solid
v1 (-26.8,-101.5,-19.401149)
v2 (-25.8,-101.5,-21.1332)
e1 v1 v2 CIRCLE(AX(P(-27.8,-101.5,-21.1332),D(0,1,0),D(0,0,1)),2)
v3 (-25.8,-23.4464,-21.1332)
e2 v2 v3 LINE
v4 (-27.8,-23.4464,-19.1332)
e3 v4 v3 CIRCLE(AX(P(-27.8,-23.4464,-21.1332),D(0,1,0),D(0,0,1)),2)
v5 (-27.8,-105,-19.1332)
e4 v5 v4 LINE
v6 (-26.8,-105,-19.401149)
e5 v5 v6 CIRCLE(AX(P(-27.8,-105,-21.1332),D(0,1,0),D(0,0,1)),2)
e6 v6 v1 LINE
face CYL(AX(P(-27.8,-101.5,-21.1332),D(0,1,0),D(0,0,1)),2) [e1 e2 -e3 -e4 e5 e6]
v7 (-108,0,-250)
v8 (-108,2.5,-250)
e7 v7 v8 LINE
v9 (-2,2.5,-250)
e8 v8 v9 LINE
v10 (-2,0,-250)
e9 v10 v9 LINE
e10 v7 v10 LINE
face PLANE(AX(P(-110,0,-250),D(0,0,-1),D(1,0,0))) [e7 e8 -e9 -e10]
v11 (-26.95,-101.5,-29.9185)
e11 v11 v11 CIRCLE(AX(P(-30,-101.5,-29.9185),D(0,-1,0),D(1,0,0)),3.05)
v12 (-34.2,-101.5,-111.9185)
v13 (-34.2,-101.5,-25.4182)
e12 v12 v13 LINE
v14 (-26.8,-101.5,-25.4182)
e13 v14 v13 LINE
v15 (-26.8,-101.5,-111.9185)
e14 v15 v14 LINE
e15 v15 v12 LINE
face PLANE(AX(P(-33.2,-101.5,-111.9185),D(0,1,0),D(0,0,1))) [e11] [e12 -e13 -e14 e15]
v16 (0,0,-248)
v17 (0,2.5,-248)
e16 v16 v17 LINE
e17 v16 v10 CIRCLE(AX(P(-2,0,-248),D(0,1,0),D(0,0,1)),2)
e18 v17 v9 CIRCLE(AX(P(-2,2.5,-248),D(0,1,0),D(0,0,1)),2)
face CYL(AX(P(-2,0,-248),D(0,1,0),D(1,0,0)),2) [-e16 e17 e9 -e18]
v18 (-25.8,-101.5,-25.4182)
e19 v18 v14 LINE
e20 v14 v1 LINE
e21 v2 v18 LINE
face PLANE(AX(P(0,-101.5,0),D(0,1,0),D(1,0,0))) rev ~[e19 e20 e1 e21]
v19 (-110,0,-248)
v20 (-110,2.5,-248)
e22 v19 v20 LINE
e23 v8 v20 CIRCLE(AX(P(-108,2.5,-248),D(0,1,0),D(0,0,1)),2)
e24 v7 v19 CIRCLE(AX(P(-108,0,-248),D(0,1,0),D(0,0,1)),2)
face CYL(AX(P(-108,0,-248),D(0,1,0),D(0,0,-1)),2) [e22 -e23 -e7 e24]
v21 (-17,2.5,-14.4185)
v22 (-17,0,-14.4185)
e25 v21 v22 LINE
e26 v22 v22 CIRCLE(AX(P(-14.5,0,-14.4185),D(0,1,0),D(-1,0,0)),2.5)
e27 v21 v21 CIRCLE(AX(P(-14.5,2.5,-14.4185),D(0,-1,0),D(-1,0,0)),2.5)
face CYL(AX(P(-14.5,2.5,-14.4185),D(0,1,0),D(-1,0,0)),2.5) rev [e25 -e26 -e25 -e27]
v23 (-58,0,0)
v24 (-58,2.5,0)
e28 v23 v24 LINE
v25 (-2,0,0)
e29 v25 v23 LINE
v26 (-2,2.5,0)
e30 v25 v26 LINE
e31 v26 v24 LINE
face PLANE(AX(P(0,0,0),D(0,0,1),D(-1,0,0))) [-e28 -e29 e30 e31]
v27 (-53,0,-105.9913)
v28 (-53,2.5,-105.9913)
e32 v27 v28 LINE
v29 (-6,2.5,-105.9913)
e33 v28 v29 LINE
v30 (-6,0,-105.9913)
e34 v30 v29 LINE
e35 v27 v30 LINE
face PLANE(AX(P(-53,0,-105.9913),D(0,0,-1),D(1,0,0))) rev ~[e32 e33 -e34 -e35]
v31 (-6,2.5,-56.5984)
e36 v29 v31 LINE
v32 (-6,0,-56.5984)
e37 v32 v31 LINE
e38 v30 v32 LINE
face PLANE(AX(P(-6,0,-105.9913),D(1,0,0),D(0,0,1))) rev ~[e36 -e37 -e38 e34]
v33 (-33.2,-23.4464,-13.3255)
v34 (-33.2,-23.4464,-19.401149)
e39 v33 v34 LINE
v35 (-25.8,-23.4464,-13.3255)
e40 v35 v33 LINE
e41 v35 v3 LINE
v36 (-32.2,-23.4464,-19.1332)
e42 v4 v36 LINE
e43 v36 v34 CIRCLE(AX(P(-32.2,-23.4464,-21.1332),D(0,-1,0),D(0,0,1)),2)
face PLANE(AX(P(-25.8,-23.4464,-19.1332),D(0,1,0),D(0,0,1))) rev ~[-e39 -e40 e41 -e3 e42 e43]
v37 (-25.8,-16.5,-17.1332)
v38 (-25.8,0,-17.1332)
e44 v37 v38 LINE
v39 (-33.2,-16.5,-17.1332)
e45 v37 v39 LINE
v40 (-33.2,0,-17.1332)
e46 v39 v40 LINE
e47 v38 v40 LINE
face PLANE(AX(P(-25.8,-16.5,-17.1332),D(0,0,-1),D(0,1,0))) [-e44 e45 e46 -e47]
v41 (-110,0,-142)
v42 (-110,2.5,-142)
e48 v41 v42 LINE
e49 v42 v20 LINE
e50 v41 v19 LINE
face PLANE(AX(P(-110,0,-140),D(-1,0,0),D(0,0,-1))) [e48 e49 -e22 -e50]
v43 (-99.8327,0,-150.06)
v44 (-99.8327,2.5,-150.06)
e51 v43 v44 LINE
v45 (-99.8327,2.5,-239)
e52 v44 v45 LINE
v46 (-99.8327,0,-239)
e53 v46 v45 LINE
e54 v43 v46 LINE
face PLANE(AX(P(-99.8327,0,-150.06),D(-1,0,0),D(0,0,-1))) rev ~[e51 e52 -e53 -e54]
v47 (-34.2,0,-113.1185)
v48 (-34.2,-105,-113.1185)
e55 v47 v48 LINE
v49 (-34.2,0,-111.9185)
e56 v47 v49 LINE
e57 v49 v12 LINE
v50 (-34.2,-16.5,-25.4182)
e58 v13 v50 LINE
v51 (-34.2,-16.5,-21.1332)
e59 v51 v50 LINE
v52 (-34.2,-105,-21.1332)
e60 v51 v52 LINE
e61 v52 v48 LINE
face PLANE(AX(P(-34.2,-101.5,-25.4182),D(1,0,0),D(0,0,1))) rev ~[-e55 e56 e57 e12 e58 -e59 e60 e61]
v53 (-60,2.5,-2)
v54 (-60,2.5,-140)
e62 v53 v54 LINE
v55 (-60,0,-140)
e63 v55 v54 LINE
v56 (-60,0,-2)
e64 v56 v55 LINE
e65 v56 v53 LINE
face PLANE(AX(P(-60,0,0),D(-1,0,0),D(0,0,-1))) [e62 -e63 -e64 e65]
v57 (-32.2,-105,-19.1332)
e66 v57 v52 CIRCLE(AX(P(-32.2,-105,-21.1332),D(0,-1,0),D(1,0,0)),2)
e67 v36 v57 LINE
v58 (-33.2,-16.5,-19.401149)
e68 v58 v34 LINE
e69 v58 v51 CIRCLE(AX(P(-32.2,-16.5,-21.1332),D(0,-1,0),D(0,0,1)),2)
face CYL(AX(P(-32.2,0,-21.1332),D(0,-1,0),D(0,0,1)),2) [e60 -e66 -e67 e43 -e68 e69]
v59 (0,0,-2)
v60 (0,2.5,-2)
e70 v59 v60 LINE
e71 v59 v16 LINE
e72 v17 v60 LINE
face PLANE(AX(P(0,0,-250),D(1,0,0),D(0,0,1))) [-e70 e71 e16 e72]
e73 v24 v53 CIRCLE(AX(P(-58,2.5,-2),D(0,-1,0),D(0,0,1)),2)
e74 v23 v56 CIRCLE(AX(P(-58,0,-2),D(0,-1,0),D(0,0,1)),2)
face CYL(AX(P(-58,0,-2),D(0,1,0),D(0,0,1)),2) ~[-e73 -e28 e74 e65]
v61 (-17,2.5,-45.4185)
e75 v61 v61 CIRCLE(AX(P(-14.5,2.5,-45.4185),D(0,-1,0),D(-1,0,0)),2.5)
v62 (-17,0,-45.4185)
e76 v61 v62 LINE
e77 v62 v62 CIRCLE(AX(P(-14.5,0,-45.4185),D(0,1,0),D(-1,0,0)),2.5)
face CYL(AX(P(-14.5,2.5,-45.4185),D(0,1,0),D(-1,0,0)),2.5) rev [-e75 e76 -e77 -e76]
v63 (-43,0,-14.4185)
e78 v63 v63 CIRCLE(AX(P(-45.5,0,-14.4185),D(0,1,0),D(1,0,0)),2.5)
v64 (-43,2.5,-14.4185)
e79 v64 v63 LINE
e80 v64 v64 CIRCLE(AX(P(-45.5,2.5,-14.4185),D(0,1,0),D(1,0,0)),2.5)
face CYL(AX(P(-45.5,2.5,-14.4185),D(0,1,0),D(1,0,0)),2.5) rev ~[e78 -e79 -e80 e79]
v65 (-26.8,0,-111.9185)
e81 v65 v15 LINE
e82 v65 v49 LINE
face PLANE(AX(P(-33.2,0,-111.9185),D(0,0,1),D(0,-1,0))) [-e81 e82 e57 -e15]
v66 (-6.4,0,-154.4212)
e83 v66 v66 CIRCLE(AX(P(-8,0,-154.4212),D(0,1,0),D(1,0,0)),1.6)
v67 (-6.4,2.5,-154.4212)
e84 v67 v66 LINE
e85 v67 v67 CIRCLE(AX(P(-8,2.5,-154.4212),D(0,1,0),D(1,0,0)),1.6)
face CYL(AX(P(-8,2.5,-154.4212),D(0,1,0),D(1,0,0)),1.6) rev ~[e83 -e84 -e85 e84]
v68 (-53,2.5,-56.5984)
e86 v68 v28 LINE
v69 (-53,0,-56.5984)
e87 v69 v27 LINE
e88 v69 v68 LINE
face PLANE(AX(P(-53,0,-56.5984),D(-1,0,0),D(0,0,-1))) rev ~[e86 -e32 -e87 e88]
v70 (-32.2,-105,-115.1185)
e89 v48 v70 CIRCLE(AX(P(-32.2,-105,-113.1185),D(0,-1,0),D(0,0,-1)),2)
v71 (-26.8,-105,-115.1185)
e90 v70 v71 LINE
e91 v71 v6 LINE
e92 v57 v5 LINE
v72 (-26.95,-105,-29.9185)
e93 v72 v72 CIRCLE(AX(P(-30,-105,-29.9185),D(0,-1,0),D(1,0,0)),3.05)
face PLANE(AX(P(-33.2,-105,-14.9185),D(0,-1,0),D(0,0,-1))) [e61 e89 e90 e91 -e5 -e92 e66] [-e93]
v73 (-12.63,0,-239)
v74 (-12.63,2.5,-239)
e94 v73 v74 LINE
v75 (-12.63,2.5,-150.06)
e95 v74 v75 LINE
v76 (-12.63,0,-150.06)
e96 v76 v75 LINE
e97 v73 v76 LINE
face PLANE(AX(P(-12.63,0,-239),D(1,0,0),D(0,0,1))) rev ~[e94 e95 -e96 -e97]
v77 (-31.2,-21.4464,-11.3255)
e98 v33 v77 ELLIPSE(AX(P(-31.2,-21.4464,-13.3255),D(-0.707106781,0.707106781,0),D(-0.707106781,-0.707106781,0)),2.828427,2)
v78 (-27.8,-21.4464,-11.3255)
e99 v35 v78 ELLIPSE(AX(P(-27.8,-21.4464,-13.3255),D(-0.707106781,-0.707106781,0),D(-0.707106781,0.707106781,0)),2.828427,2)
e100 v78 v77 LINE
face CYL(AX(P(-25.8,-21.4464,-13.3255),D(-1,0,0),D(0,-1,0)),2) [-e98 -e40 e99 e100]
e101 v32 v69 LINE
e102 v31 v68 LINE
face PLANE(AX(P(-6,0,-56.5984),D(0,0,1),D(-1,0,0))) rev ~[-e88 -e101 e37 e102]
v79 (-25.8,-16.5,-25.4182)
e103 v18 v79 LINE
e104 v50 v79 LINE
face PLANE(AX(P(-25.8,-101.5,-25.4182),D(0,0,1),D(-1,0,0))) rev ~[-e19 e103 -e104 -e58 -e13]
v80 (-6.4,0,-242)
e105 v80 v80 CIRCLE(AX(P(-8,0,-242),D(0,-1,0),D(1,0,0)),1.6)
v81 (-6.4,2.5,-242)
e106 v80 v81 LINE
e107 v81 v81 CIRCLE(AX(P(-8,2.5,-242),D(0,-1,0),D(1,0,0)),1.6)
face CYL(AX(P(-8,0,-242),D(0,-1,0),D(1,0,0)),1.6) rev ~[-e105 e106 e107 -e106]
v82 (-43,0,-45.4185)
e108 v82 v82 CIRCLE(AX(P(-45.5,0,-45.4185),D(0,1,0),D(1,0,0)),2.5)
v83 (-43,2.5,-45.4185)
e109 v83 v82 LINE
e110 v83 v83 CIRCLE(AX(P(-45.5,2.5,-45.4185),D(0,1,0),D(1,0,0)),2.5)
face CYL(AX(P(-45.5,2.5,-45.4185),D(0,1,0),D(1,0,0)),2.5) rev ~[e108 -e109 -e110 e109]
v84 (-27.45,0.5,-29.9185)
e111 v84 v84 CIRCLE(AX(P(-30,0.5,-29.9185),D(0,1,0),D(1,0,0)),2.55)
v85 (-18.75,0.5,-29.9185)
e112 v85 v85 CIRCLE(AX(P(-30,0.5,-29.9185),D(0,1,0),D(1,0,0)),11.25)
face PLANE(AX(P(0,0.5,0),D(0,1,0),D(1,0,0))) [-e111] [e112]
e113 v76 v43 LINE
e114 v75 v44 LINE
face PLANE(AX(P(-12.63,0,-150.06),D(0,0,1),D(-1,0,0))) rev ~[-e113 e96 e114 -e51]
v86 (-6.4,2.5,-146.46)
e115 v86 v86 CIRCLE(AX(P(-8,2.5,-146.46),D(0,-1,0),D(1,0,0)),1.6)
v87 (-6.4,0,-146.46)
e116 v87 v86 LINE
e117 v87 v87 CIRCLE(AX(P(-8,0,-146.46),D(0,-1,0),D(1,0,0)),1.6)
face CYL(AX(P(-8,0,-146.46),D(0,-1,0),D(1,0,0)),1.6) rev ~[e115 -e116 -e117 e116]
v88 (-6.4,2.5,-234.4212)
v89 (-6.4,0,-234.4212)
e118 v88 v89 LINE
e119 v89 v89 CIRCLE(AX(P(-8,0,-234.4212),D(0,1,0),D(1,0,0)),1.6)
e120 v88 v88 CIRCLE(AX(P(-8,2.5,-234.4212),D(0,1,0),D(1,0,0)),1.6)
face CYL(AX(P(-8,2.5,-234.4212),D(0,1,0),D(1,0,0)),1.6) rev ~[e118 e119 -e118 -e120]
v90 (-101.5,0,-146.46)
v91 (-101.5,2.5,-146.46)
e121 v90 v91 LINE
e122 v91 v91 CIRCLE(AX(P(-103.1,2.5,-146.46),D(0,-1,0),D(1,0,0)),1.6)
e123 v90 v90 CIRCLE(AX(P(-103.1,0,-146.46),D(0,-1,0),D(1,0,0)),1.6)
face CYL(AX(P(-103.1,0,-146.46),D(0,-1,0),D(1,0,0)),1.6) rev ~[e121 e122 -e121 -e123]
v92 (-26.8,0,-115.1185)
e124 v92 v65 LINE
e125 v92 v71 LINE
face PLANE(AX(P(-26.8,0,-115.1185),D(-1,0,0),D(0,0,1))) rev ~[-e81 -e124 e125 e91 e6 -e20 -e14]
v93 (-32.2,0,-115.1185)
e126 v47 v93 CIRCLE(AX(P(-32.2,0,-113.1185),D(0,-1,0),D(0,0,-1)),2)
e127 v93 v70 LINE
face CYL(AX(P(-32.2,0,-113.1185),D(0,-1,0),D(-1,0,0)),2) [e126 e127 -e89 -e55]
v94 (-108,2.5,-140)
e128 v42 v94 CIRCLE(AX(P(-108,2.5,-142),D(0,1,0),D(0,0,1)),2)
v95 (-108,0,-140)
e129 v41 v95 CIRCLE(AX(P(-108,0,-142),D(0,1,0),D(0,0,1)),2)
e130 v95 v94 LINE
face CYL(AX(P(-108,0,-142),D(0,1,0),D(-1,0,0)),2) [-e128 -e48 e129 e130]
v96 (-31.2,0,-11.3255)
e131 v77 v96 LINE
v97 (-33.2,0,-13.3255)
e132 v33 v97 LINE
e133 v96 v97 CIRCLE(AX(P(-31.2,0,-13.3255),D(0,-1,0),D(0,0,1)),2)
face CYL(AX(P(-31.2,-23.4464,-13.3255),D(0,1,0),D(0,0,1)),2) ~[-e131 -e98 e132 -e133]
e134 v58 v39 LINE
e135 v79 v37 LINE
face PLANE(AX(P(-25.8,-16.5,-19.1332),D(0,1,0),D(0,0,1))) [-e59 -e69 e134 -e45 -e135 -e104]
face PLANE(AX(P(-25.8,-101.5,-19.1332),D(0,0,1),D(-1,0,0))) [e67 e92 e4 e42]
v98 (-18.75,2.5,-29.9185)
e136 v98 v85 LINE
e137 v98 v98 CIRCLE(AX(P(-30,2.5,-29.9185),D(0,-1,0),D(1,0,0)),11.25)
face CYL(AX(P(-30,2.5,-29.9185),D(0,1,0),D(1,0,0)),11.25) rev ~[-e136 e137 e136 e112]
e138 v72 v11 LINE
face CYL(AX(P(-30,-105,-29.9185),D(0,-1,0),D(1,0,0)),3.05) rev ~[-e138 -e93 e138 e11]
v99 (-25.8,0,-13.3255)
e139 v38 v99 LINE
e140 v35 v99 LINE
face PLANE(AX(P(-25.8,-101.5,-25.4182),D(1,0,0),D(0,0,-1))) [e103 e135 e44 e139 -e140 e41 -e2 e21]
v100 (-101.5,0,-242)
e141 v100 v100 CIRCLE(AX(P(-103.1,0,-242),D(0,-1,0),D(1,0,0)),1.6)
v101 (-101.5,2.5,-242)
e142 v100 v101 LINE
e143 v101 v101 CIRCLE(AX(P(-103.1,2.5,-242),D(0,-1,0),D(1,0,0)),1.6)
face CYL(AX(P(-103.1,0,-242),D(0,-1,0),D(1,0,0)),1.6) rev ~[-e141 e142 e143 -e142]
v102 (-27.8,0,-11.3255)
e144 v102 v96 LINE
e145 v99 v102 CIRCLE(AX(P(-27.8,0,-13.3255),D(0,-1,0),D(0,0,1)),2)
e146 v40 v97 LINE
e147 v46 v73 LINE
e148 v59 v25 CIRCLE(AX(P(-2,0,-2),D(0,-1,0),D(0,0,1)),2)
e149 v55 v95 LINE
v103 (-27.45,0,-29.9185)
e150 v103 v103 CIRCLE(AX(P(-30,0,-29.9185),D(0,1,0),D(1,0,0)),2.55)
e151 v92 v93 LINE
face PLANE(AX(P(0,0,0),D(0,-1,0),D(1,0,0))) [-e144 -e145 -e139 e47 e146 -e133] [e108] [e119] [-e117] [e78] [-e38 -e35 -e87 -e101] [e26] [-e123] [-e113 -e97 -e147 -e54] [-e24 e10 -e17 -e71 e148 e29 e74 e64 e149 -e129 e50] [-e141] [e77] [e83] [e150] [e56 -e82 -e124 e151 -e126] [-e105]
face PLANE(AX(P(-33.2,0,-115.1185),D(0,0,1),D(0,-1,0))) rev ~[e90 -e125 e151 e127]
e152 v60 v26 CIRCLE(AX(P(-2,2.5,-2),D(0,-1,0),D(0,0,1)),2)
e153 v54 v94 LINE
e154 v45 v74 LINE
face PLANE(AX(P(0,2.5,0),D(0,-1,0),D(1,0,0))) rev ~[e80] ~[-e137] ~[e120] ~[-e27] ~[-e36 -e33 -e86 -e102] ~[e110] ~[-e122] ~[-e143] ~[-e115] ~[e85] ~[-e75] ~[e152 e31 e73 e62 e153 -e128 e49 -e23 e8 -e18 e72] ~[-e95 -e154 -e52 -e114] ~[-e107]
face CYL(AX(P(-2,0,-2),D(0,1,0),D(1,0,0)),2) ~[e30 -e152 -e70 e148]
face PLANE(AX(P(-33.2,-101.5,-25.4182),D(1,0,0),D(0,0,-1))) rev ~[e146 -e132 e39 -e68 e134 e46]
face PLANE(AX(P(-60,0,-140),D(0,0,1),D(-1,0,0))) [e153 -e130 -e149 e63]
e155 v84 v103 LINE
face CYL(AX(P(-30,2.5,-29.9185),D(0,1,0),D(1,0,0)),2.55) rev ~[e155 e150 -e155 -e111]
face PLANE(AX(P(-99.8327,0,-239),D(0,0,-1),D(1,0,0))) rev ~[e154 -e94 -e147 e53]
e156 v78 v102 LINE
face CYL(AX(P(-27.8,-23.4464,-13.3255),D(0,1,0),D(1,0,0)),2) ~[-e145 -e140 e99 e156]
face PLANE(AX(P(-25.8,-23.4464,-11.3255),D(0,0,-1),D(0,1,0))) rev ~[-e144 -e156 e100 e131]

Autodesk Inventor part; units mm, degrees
ref_plane "YZ Plane" through (0, 0, 0) normal (1, 0, 0) x (0, 1, 0)
ref_plane "XZ Plane" through (0, 0, 0) normal (0, 1, 0) x (-1, 0, 0)
ref_plane "XY Plane" through (0, 0, 0) normal (0, 0, 1) x (1, 0, 0)
sketch "草图1" plane through (0, 0, 0) normal (0, 1, 0) x (-1, 0, 0)
  line L0 (0, 0) -> (60, 0)
  line L1 (60, 0) -> (60, -140)
  line L2 (60, -140) -> (0, -140)
  line L3 (0, -140) -> (0, 0)
  dimension "d0" = 60
  dimension "d1" = 140
extrude "拉伸1" add sketch "草图1" along normal blind 2.5
sketch "草图2" plane through (0, 2.5, 0) normal (0, 1, 0) x (1, 0, 0)
  line L0 (0, 140) -> (-60, 140) projected
  line L1 (-60, 140) -> (-60, 0) projected
  line L2 (-60, 0) -> (0, 0) projected
  line L3 (0, 0) -> (0, 140) projected
  line L4 (-60, 0) -> (0, 0) projected
  line L5 (-30, 0) -> (-30, 146.6003)
  line L6 (-30, 8.9185) -> (-51, 8.9185)
  line L7 (-51, 8.9185) -> (-51, 50.9185)
  line L8 (-51, 50.9185) -> (-30, 50.9185)
  line L9 (-30, 50.9185) -> (-30, 8.9185)
  line L10 (-30, 8.9185) -> (-9, 8.9185)
  line L11 (-9, 8.9185) -> (-9, 50.9185)
  line L12 (-9, 50.9185) -> (-30, 50.9185)
  circle A0 centre (-45.5, 14.4185) radius 2.9433
  line L13 (-51, 29.9185) -> (-35.5931, 29.9185)
  circle A1 centre (-45.5, 45.4185) radius 2.9433
  circle A2 centre (-14.5, 14.4185) radius 2.9433
  circle A3 centre (-14.5, 45.4185) radius 2.9433
  circle A4 centre (-30, 29.9185) radius 2.55
  circle A5 centre (-30, 29.9185) radius 11.25
  dimension "d4" = 21
  dimension "d5" = 42
  dimension "d6" = 31
  dimension "d7" = 31
  dimension "d12" = 5.1
  dimension "d15" = 22.5
extrude "拉伸4" cut sketch "草图2" along normal mid plane 10 contours A4 L5 | L5 A4
extrude "拉伸5" cut sketch "草图2" against normal blind 10 contours A5 L5 A4 | L5 A4 A5 | A4 L5 | L5 A4
extrude "拉伸6" cut sketch "草图2" against normal blind 10 contours A5 L5 A4 | L5 A4 A5 | A4 L5 | L5 A4
sketch "草图6" plane through (0, 0, 0) normal (0, -1, 0) x (1, 0, 0)
  line L0 (-9, -8.9185) -> (-51, -8.9185) projected
  circle A0 centre (-30, -29.9185) radius 2.55 projected
  line L1 (-30, -29.9185) -> (-26.8, -29.9185)
  line L2 (-26.8, -29.9185) -> (-26.8, -111.9185)
  line L3 (-30, -29.9185) -> (-30, -39.9264)
  line L4 (-30, -29.9185) -> (-33.2, -29.9185)
  line L5 (-33.2, -29.9185) -> (-33.2, -111.9185)
  line L6 (-26.8, -111.9185) -> (-31.6, -111.9185)
  line L7 (-31.6, -111.9185) -> (-33.2, -111.9185)
  line L8 (-26.8, -111.9185) -> (-33.2, -111.9185)
  line L9 (-33.2, -111.9185) -> (-33.2, -115.1185)
  line L10 (-33.2, -115.1185) -> (-26.8, -115.1185)
  line L11 (-26.8, -115.1185) -> (-26.8, -111.9185)
  point P0 (0, 0)
  dimension "d20" = 3.2
  dimension "d21" = 82
  dimension "d22" = 3.2
extrude "拉伸7" add sketch "草图6" along normal blind 105 contours L11 L10 L9 L7 L6
sketch "草图7" plane through (-33.2, 0, -111.9185) normal (0, 0, 1) x (1, 0, 0)
  line L0 (0, 0) -> (6.4, 0) projected
  line L1 (0, 0) -> (0, -105) projected
  line L2 (6.4, -105) -> (0, -105) projected
  line L3 (6.4, 0) -> (6.4, -105) projected
  line L4 (6.4, 0) -> (6.4, -105) projected
  line L5 (0, 0) -> (0, -105) projected
  line L6 (6.4, -105) -> (0, -105)
  line L7 (0, -105) -> (0, -101.5)
  line L8 (0, -101.5) -> (6.4, -101.5)
  line L9 (6.4, -101.5) -> (6.4, -105)
  point P0 (33.2, 0)
  dimension "d25" = 3.5
sketch "草图8" plane through (0, -105, 0) normal (0, -1, 0) x (1, 0, 0)
  line L0 (-26.8, -111.9185) -> (-26.8, -115.1185) projected
  line L1 (-26.8, -115.1185) -> (-33.2, -115.1185) projected
  line L2 (-33.2, -115.1185) -> (-33.2, -111.9185) projected
  line L3 (-33.2, -111.9185) -> (-26.8, -111.9185) projected
  circle A0 centre (-30, -29.9185) radius 11.25 projected
  line L4 (0, -140) -> (-60, -140) projected
  line L5 (0, 0) -> (0, -140) projected
  line L6 (-60, 0) -> (0, 0) projected
  line L7 (-60, -140) -> (-60, 0) projected
  line L8 (-26.8, -111.9185) -> (-26.8, -29.9185)
  line L9 (-26.8, -29.9185) -> (-33.2, -29.9185)
  line L10 (-33.2, -29.9185) -> (-33.2, -111.9185)
  line L11 (-33.2, -111.9185) -> (-26.8, -111.9185)
  line L12 (-26.8, -111.9185) -> (-26.8, -29.9185)
  circle A1 centre (-30, -29.9185) radius 3.2
  line L13 (-26.8, -29.9185) -> (-26.8, -14.9185)
  line L14 (-26.8, -14.9185) -> (-33.2, -14.9185)
  line L15 (-33.2, -14.9185) -> (-33.2, -29.9185)
  circle A2 centre (-30, -29.9185) radius 2.55 projected
  line L16 (-26.8, -14.9185) -> (-26.8, -25.4185)
  line L17 (-26.8, -25.4185) -> (-33.2, -25.4185)
  dimension "d26" = 15
  dimension "d40" = 10.5
extrude "拉伸8" add sketch "草图8" against normal blind 3.5 contours L3 L10 A0 L8 | A0 L10 A1 L8 | A1 L9 A2 | L9 A2 A1 | A1 L15 L17 L13 | L15 L14 L13 A0 | A0 L13 L17 L15
sketch "草图10" plane through (0, -105, 0) normal (0, -1, 0) x (1, 0, 0)
  line L0 (-26.8, -111.9185) -> (-26.8, -115.1185) projected
  line L1 (-26.8, -115.1185) -> (-33.2, -115.1185) projected
  line L2 (-33.2, -115.1185) -> (-33.2, -111.9185) projected
  line L3 (-33.2, -111.9185) -> (-26.8, -111.9185) projected
  circle A0 centre (-30, -29.9185) radius 11.25 projected
  line L4 (0, -140) -> (-60, -140) projected
  line L5 (0, 0) -> (0, -140) projected
  line L6 (-60, 0) -> (0, 0) projected
  line L7 (-60, -140) -> (-60, 0) projected
  circle A1 centre (-30, -29.9185) radius 2.55 projected
  line L8 (-33.2, -14.9185) -> (-33.2, -115.1185) projected
  line L9 (-33.2, -115.1185) -> (-26.8, -115.1185) projected
  line L10 (-26.8, -115.1185) -> (-26.8, -14.9185) projected
  line L11 (-26.8, -14.9185) -> (-33.2, -14.9185) projected
  circle A2 centre (-30, -29.9185) radius 3.05
  point P0 (-33.2, -19.1332)
  point P1 (-26.8, -19.1332)
  dimension "d31" = 6.1
extrude "拉伸9" add sketch "草图10" against normal up to surface (105 mm away) contours A0 L8 L11 L10
extrude "拉伸10" cut sketch "草图10" against normal up to surface (3.5 mm away) contours A2
sketch "草图11" plane through (-33.2, -105, -115.1185) normal (-1, 0, 0) x (0, 0, 1)
  line L0 (3.2, 3.5) -> (95.9853, 3.5) projected
  line L1 (3.2, 105) -> (3.2, 3.5) projected
  line L2 (0, 105) -> (3.2, 105) projected
  line L3 (0, 105) -> (0, 0) projected
  line L4 (100.2, 0) -> (0, 0) projected
  line L5 (100.2, 0) -> (100.2, 105) projected
  line L6 (95.9853, 105) -> (100.2, 105) projected
  line L7 (95.9853, 3.5) -> (95.9853, 105) projected
  point P0 (115.1185, 105)
extrude "拉伸11" add sketch "草图11" along normal blind 1
sketch "草图12" plane through (0, 0, 0) normal (0, -1, 0) x (1, 0, 0)
  point P0 (0, 0)
extrude "拉伸12" add sketch "草图2" against normal up to surface (2.5 mm away) contours A5 L5 A4 | L5 A4 A5
sketch "草图13" plane through (-30, 2.5, -29.9185) normal (0, 1, 0) x (1, 0, 0)
  point P0 (30, -29.9185)
extrude "拉伸13" cut sketch "草图2" against normal blind 2 contours A5 L5 A4 | L5 A4 A5
sketch "草图14" plane through (0, -105, 0) normal (0, -1, 0) x (1, 0, 0)
  circle A0 centre (-30, -29.9185) radius 3.05 projected
  line L0 (-26.8, -115.1185) -> (-34.2, -115.1185) projected
  line L1 (-26.8, -14.9185) -> (-34.2, -14.9185) projected
  line L2 (-34.2, -115.1185) -> (-34.2, -14.9185) projected
  line L3 (-34.2, -115.1185) -> (-34.2, -14.9185) projected
  line L4 (-34.2, -19.1332) -> (-34.2, -14.9185) projected
  line L5 (-34.2, -19.1332) -> (-34.2, -111.9185) projected
  line L6 (-34.2, -115.1185) -> (-34.2, -111.9185) projected
  line L7 (-33.2, -19.1332) -> (-34.2, -19.1332) projected
  line L8 (-34.2, -19.1332) -> (-25.8, -19.1332)
  line L9 (-25.8, -115.1185) -> (-25.8, -14.9185) projected
  line L10 (-26.8, -115.1185) -> (-26.8, -14.9185) projected
  point P0 (0, 0)
  point P1 (-26.8, -19.1332)
extrude "拉伸14" cut sketch "草图14" against normal up to surface (105 mm away) contours L8 L7 L2 L1 L10
sketch "草图15" plane through (0, -101.5, 0) normal (0, 1, 0) x (1, 0, 0)
  line L0 (-34.2, 111.9185) -> (-26.8, 111.9185) projected
  line L1 (-34.2, 19.1332) -> (-34.2, 111.9185) projected
  circle A0 centre (-30, 29.9185) radius 3.05 projected
  line L2 (-26.8, 25.4185) -> (-33.2, 25.4185) projected
  line L3 (-26.8, 14.9185) -> (-26.8, 25.4185) projected
  line L4 (-34.2, 19.1332) -> (-26.8, 19.1332) projected
  line L5 (-26.8, 19.1332) -> (-26.8, 111.9185) projected
  point P0 (0, 0)
sketch "草图16" plane through (0, -105, 0) normal (0, -1, 0) x (1, 0, 0)
  line L0 (-26.8, -25.4185) -> (-33.2, -25.4185) projected
  line L1 (-34.2, -115.1185) -> (-34.2, -19.1332) projected
  line L2 (-26.8, -115.1185) -> (-34.2, -115.1185) projected
  circle A0 centre (-30, -29.9185) radius 3.05 projected
  line L3 (-26.8, -19.1332) -> (-34.2, -19.1332) projected
  line L4 (-26.8, -115.1185) -> (-26.8, -19.1332) projected
  point P0 (0, 0)
sketch "草图17" plane through (0, -101.5, 0) normal (0, 1, 0) x (1, 0, 0)
  line L0 (-25.8, 19.1332) -> (-34.2, 19.1332) projected
  line L1 (-25.8, 19.1332) -> (-25.8, 111.9185) projected
  line L2 (-34.2, 19.1332) -> (-25.8, 19.1332)
  line L3 (-25.8, 19.1332) -> (-25.8, 25.4182)
  line L4 (-25.8, 25.4182) -> (-34.2, 25.4182)
  line L5 (-34.2, 25.4182) -> (-34.2, 19.1332)
  point P0 (0, 0)
  dimension "d43" = 6.285
extrude "拉伸15" add sketch "草图17" along normal up to surface (101.5 mm away)
fillet "圆角1" radius 2 3 edges at (-34.2, -52.5, -19.1332) (-25.8, -50.75, -19.1332) (-34.2, -52.5, -115.1185)
sketch "草图18" plane through (0, 2.5, 0) normal (0, 1, 0) x (1, 0, 0)
  circle A0 centre (-30, 29.9185) radius 11.25 projected
  line L0 (0, 140) -> (-60, 140) projected
  line L1 (-60, 140) -> (-60, 0) projected
  line L2 (-60, 0) -> (0, 0) projected
  line L3 (0, 0) -> (0, 140) projected
  circle A1 centre (-45.5, 14.4185) radius 2.5
  line L4 (-30, 29.9185) -> (-30, 12.6275)
  circle A2 centre (-45.5, 45.4185) radius 2.5
  point P0 (-14.5, 14.4185)
  dimension "d47" = 5
  dimension "d48" = 5
extrude "拉伸16" cut sketch "草图18" against normal blind 10 contours A1 | A2
ref_plane "工作平面2" through (-30, 0, -140) normal (-1, 0, 0) x (0, 0, 1)
mirror "镜像2" about plane through (-30, 0, -140) normal (-1, 0, 0) of "拉伸16"
sketch "草图19" plane through (0, 0, 0) normal (0, -1, 0) x (1, 0, 0)
  line L0 (0, -140) -> (-60, -140) projected
  line L1 (0, -140) -> (-110, -140)
  line L2 (-110, -140) -> (-110, -250)
  line L3 (-110, -250) -> (0, -250)
  line L4 (0, -250) -> (0, -140)
  circle A0 centre (-8, -146.46) radius 1.6
  circle A1 centre (-8, -242) radius 1.6
  circle A2 centre (-103.1, -146.46) radius 1.6
  circle A3 centre (-103.1, -242) radius 1.6
  point P0 (0, 0)
  dimension "d51" = 110
  dimension "d52" = 110
  dimension "d53" = 3.2
  dimension "d54" = 3.2
  dimension "d55" = 95.54
  dimension "d56" = 8
  dimension "d57" = 3.2
  dimension "d58" = 95.1
  dimension "d59" = 3.2
  dimension "d74" = 8
  dimension "d75" = 8
  dimension "d76" = 95.1
extrude "拉伸17" add sketch "草图19" against normal up to surface (2.5 mm away)
sketch "草图20" plane through (-25.8, -101.5, -25.4182) normal (1, 0, 0) x (0, 0, -1)
  line L0 (-4.285, 0) -> (-4.285, 101.5) projected
  line L1 (-4.285, 0) -> (0, 0) projected
  line L2 (0, 0) -> (0, 101.5) projected
  line L3 (-4.285, 101.5) -> (0, 101.5) projected
  line L4 (-4.285, 0) -> (-4.285, 101.5) projected
  line L5 (-4.285, 101.5) -> (-4.285, 85)
  line L6 (-4.285, 85) -> (0, 85)
  line L7 (0, 0) -> (0, 101.5) projected
  line L8 (-4.285, 85) -> (-8.285, 85)
  line L9 (-8.285, 85) -> (-8.285, 101.5)
  line L10 (114.5818, 101.5) -> (-25.4182, 101.5) projected
  line L11 (-6.285, 78.0536) -> (-14.0927, 78.0536)
  line L12 (-14.0927, 78.0536) -> (-14.0927, 101.5)
  line L13 (-6.285, 101.5) -> (-6.285, -3.5) projected
  point P0 (-6.285, 85)
  dimension "d62" = 16.5
  dimension "d63" = 4
extrude "拉伸18" cut sketch "草图20" along normal mid plane 20.75 contours L8 L13 L10 L0 | L0 L3 L2 L6 | L8 L9 L10 L13
extrude "拉伸19" add sketch "草图20" against normal blind 7.4 contours L13 L11 L12 L10 L9 L8
sketch "草图21" plane through (-25.8, -23.4464, -19.1332) normal (0, 0, -1) x (-1, 0, 0)
  line L0 (2, 6.9464) -> (2, 0) projected
  line L1 (0, 6.9464) -> (2, 6.9464) projected
  line L2 (0, 0) -> (0, 6.9464) projected
  line L3 (0, 0) -> (2, 0) projected
  line L4 (6.4, 0) -> (6.4, 6.9464) projected
  line L5 (6.4, 0) -> (7.4, 0) projected
  line L6 (7.4, 6.9464) -> (7.4, 0) projected
  line L7 (6.4, 6.9464) -> (7.4, 6.9464) projected
  point P0 (-25.8, 23.4464)
extrude "拉伸20" add sketch "草图21" along normal blind 2.5
fillet "圆角2" radius 2 3 edges at (-29.5, -23.4464, -11.3254) (-25.8, -11.7232, -11.3254) (-33.2, -11.7232, -11.3254)
sketch "草图22" plane through (0, -105, 0) normal (0, -1, 0) x (1, 0, 0)
  circle A0 centre (-30, -29.9185) radius 3.05 projected
  circle A1 centre (-30, -29.9185) radius 3.2 projected
  point P0 (0, 0)
sketch "草图23" plane through (0, -105, 0) normal (0, -1, 0) x (1, 0, 0)
  circle A0 centre (-30, -29.9185) radius 2.55 projected
  point P0 (0, 0)
sketch "草图24" plane through (0, -105, 0) normal (0, -1, 0) x (1, 0, 0)
  point P0 (0, 0)
sketch "草图25" plane through (0, -105, 0) normal (0, -1, 0) x (1, 0, 0)
  circle A0 centre (-30, -29.9185) radius 2.75
  point P0 (0, 0)
  dimension "d71" = 5.5
extrude "拉伸21" cut sketch "草图25" against normal blind 2.5
sketch "草图26" plane through (0, 0, 0) normal (1, 0, 0) x (0, 0, -1)
  point P0 (0, 0)
sketch "草图27" plane through (0, 2.5, 0) normal (0, 1, 0) x (1, 0, 0)
  circle A0 centre (-8, 146.46) radius 1.6 projected
  circle A1 centre (-8, 242) radius 1.6 projected
  circle A2 centre (-103.1, 146.46) radius 1.6 projected
  circle A3 centre (-103.1, 242) radius 1.6 projected
  circle A4 centre (-14.5, 14.4185) radius 2.5 projected
  circle A5 centre (-14.5, 45.4185) radius 2.5 projected
  circle A6 centre (-45.5, 14.4185) radius 2.5 projected
  circle A7 centre (-45.5, 45.4185) radius 2.5 projected
  circle A8 centre (-30, 29.9185) radius 11.25 projected
  line L0 (-60, 140) -> (-60, 0) projected
  line L1 (-60, 0) -> (0, 0) projected
  line L2 (0, 0) -> (0, 250) projected
  line L3 (-110, 250) -> (0, 250) projected
  line L4 (-110, 140) -> (-110, 250) projected
  line L5 (-60, 140) -> (-110, 140) projected
  circle A9 centre (-8, 154.4212) radius 1.6
  circle A10 centre (-8, 234.4212) radius 1.6
  dimension "d77" = 3.2
  dimension "d78" = 3.2
  dimension "d79" = 80
extrude "拉伸22" cut sketch "草图27" against normal up to surface (2.5 mm away) contours A9 | A10
sketch "草图28" plane through (0, 0, 0) normal (0, -1, 0) x (1, 0, 0)
  line L0 (-12.63, -150.06) -> (-99.8327, -150.06)
  line L1 (-99.8327, -150.06) -> (-99.8327, -239)
  line L2 (-99.8327, -239) -> (-12.63, -239)
  line L3 (-12.63, -239) -> (-12.63, -150.06)
  circle A0 centre (-8, -146.46) radius 1.6 projected
  circle A1 centre (-8, -242) radius 1.6 projected
  point P0 (0, 0)
  dimension "d82" = 3.6
  dimension "d83" = 3
extrude "拉伸23" cut sketch "草图28" against normal blind 10 contours L3 L2 L1 L0
fillet "圆角3" radius 2 5 edges at (-110, 1.25, -250) (0, 1.25, -250) (-110, 1.25, -140) (-60, 1.25, 0) (0, 1.25, 0)
sketch "草图29" plane through (0, 0, 0) normal (0, -1, 0) x (1, 0, 0)
  line L0 (-6, -56.5984) -> (-53, -56.5984)
  line L1 (-53, -56.5984) -> (-53, -105.9913)
  line L2 (-53, -105.9913) -> (-6, -105.9913)
  line L3 (-6, -105.9913) -> (-6, -56.5984)
  line L4 (-60, -140) -> (-60, -2) projected
  line L5 (0, -2) -> (0, -248) projected
  point P0 (0, 0)
  dimension "d87" = 7
  dimension "d88" = 6
extrude "拉伸24" cut sketch "草图29" against normal blind 10
properties part number "42底座"
